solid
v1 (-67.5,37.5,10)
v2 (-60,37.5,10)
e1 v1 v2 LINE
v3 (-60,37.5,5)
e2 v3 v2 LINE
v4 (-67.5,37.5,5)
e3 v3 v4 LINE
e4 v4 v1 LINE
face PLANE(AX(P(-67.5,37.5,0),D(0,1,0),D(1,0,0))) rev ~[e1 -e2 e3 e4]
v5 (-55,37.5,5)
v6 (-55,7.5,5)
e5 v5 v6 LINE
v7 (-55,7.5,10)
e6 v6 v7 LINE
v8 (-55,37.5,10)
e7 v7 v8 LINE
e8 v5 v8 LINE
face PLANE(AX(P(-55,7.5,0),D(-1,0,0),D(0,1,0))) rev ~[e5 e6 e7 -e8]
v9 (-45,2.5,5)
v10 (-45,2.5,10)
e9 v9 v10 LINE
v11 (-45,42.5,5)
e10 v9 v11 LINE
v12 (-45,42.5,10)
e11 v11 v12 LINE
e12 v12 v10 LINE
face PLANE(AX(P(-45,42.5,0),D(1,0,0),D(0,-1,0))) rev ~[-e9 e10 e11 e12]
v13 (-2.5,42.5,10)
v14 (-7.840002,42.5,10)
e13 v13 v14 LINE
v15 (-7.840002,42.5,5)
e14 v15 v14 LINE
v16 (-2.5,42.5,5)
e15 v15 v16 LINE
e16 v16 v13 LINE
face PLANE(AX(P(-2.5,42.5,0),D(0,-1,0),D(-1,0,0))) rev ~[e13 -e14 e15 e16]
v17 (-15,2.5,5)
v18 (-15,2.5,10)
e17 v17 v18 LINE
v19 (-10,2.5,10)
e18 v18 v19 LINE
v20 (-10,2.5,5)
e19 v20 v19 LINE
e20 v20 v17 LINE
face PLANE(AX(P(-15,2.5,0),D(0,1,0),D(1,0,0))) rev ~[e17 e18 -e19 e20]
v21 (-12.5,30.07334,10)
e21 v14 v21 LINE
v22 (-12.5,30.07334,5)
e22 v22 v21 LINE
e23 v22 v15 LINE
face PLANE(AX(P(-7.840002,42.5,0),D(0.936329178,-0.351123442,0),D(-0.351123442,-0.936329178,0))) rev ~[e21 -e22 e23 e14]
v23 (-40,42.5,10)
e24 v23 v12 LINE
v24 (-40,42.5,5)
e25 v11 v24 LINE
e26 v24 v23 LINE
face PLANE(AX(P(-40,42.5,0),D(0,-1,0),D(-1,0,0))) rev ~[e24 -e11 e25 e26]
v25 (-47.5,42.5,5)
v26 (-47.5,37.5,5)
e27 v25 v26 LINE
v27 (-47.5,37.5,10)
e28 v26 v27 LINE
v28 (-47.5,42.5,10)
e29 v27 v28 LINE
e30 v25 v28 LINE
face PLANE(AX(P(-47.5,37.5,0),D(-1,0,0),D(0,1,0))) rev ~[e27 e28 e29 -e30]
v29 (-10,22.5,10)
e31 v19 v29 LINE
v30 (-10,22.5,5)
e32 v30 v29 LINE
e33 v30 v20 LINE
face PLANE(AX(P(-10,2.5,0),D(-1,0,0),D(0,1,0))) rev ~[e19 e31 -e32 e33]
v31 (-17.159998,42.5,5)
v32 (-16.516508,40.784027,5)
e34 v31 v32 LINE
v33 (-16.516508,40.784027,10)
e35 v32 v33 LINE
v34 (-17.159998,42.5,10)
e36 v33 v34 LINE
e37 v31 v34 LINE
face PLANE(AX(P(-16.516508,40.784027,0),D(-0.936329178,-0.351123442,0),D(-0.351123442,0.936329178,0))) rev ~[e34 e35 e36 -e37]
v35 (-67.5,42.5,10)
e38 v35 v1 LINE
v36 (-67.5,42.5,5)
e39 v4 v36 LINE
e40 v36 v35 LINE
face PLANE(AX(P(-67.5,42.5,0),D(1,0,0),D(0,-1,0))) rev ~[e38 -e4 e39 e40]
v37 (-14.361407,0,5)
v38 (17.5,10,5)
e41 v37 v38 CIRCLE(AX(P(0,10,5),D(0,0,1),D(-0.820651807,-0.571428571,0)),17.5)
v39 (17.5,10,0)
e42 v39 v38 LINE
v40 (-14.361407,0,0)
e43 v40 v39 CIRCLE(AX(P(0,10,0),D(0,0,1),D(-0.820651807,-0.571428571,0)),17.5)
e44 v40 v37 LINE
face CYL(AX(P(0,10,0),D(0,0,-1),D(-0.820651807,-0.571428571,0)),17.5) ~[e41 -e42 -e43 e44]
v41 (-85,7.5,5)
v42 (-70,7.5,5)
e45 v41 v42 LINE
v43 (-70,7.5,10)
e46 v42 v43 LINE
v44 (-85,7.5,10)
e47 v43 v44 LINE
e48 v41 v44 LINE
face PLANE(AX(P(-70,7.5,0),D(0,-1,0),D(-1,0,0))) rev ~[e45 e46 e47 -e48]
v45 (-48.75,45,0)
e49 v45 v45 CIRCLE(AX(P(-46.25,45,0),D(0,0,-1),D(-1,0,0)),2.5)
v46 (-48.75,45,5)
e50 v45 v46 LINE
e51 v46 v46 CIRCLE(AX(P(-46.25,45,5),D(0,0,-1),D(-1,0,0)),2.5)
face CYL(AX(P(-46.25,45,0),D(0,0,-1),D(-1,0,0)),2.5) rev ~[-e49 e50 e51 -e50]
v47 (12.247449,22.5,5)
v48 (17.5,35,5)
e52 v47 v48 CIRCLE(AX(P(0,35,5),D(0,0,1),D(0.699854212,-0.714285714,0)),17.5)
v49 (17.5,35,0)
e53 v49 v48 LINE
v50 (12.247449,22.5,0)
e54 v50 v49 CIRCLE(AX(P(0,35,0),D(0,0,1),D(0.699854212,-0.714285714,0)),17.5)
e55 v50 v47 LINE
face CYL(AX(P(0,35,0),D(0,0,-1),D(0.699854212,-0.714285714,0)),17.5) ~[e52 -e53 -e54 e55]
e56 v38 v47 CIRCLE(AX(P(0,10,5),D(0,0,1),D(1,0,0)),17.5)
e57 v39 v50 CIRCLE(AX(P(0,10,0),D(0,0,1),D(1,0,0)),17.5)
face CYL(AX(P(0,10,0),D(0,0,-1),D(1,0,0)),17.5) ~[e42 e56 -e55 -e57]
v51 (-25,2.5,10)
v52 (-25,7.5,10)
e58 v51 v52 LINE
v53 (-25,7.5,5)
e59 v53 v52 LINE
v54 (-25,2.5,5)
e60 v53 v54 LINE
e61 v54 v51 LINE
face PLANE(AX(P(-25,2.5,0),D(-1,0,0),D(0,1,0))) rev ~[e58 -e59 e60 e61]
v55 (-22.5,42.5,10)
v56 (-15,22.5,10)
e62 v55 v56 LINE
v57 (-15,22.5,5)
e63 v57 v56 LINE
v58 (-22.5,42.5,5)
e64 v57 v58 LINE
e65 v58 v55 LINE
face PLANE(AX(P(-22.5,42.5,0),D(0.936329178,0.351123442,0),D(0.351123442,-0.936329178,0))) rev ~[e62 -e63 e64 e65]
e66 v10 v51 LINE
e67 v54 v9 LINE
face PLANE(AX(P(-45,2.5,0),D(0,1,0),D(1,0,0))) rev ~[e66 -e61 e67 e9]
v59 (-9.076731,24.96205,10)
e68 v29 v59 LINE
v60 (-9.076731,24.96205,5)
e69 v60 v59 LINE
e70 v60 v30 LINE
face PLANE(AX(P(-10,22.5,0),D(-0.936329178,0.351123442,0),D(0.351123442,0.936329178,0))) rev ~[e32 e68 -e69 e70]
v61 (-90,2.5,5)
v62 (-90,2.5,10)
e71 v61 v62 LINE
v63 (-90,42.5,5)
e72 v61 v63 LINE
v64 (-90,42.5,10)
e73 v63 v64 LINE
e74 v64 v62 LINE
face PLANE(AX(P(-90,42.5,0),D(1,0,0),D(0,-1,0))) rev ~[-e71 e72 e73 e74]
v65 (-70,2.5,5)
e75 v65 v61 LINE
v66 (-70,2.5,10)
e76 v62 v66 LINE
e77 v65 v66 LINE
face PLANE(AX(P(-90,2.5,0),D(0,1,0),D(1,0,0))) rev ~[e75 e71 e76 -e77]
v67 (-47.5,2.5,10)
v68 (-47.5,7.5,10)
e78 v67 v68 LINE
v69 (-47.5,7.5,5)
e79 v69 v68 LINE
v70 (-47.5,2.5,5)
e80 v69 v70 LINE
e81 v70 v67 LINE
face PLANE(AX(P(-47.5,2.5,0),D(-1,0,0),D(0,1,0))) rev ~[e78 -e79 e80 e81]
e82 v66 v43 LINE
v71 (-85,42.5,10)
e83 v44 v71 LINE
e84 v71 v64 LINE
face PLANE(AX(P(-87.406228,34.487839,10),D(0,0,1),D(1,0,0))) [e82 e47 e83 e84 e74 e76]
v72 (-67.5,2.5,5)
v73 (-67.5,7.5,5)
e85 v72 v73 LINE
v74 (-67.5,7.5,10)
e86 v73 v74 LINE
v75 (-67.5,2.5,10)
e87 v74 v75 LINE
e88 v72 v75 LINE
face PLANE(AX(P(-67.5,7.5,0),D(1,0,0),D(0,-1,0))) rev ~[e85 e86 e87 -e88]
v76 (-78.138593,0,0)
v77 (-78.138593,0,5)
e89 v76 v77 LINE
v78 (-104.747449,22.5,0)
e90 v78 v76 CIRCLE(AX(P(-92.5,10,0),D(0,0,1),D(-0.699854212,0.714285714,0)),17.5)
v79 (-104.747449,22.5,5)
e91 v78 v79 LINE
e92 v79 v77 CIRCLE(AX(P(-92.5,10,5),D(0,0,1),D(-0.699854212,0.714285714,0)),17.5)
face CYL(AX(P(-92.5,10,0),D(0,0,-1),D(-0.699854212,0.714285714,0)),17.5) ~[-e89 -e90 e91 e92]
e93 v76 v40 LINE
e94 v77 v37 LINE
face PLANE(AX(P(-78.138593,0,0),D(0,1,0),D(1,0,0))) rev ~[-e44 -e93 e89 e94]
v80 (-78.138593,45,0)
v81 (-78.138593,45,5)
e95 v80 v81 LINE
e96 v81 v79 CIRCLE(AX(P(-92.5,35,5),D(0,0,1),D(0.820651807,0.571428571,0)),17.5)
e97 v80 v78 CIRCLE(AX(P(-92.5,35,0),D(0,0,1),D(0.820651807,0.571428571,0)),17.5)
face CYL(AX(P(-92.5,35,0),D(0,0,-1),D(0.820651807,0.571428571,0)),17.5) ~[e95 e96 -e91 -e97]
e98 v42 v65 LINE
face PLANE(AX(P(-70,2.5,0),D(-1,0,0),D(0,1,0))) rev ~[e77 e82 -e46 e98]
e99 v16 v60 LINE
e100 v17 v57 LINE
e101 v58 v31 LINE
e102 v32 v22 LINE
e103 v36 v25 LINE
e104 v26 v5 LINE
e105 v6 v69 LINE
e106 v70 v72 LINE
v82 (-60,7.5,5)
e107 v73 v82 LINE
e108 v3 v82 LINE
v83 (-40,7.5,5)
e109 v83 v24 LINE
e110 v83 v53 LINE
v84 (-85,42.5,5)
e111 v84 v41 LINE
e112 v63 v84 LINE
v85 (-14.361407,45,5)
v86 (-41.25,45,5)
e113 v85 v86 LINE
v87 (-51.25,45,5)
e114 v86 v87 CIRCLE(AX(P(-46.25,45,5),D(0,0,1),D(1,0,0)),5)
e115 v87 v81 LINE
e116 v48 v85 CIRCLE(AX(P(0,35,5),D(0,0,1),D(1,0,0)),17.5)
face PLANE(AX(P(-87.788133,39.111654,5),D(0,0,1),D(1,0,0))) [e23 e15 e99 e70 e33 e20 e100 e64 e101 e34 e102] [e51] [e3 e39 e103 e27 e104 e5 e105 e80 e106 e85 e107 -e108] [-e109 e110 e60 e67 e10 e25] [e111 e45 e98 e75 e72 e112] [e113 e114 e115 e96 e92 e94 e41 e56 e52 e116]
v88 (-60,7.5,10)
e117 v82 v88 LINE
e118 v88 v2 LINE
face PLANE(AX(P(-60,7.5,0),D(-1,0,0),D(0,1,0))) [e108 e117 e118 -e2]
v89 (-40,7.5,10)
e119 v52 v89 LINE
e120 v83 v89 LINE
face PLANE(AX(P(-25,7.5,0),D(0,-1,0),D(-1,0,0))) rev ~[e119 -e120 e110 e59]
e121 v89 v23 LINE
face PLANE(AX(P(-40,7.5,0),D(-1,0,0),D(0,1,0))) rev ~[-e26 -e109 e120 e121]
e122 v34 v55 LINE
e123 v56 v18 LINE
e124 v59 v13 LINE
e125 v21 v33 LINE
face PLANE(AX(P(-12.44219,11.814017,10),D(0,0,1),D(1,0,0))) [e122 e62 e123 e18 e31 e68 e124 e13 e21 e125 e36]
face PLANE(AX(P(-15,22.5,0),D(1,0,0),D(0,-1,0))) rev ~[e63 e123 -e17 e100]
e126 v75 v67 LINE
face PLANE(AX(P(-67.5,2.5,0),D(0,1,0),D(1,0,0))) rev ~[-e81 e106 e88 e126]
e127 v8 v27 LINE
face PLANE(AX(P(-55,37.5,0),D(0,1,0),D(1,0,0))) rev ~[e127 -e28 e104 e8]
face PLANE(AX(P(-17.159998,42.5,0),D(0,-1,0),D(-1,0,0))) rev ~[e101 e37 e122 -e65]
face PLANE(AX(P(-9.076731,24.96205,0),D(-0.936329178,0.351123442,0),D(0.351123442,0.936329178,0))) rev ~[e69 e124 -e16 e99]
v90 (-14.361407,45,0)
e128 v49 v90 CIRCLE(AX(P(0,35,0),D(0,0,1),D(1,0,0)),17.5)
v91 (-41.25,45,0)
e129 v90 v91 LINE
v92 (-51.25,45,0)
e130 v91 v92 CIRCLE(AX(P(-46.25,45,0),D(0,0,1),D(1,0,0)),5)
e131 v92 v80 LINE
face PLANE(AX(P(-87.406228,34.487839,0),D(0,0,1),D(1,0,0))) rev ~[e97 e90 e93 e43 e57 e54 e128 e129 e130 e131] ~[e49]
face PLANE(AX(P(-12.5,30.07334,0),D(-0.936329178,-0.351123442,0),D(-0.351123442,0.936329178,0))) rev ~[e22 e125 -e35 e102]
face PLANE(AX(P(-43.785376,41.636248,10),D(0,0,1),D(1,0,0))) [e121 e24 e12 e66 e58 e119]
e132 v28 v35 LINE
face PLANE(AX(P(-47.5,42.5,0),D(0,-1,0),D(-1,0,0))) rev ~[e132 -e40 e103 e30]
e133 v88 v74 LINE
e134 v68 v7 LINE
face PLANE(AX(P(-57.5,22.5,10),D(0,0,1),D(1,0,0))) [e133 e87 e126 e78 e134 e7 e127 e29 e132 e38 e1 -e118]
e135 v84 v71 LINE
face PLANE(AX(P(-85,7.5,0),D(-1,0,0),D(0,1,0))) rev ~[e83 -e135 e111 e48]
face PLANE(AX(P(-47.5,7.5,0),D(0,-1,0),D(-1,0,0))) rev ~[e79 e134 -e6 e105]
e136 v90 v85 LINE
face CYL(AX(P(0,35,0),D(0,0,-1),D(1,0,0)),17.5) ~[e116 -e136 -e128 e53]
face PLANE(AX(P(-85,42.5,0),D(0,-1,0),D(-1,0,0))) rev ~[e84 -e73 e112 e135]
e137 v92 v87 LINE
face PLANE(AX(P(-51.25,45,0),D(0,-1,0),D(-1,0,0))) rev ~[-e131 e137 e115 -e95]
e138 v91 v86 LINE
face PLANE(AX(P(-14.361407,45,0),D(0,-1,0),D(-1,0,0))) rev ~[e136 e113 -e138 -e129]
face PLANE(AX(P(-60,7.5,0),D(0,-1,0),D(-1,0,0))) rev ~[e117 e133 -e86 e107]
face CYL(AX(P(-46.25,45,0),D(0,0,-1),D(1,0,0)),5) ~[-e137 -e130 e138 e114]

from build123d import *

# Parameters (mm, degrees)
F0_W     = 15
F0_H     = 35
F0_W_2   = 5
F0_H_2   = 5
F0_W_3   = 7.5
F0_H_3   = 30
F1_DEPTH = 5
F2_DEPTH = 10


with BuildPart() as f1:
    # F0 (on Top) → F1 (new body)
    with BuildSketch(Plane.XY):
        with BuildLine():
            Line((-90, 27.3205080757), (-90, 42.5))
            Line((-90, 42.5), (-85, 42.5))
            Line((-85, 42.5), (-76.6886116992, 42.5))
            ThreePointArc((-76.6886116992, 42.5), (-77.3619060553, 43.7799835832), (-78.1385933837, 45))
            Line((-78.1385933837, 45), (-92.5, 45))
            Line((-92.5, 45), (-92.5, 27.5))
            ThreePointArc((-92.5, 27.5), (-91.2467824061, 27.4550693399), (-90, 27.3205080757))
        make_face()
        with BuildLine():
            ThreePointArc((-78.1385933837, 45), (-77.3619060553, 43.7799835832), (-76.6886116992, 42.5))
            Line((-76.6886116992, 42.5), (-70, 42.5))
            Line((-70, 42.5), (-70, 7.5))
            Line((-70, 7.5), (-70, 2.5))
            Line((-70, 2.5), (-76.6886116992, 2.5))
            ThreePointArc((-76.6886116992, 2.5), (-77.3619060553, 1.2200164168), (-78.1385933837, 0))
            Line((-78.1385933837, 0), (-14.3614066163, 0))
            ThreePointArc((-14.3614066163, 0), (-15.1380939447, 1.2200164168), (-15.8113883008, 2.5))
            Line((-15.8113883008, 2.5), (-22.5, 2.5))
            Line((-22.5, 2.5), (-22.5, 22.5))
            Line((-22.5, 22.5), (-22.5, 42.5))
            Line((-22.5, 42.5), (-17.1599976592, 42.5))
            Line((-17.1599976592, 42.5), (-15.8113883008, 42.5))
            ThreePointArc((-15.8113883008, 42.5), (-15.1380939447, 43.7799835832), (-14.3614066163, 45))
            Line((-14.3614066163, 45), (-41.25, 45))
            ThreePointArc((-41.25, 45), (-41.4203708686, 43.7059047745), (-41.9198729811, 42.5))
            Line((-41.9198729811, 42.5), (-40, 42.5))
            Line((-40, 42.5), (-25, 42.5))
            Line((-25, 42.5), (-25, 7.5))
            Line((-25, 7.5), (-25, 2.5))
            Line((-25, 2.5), (-40, 2.5))
            Line((-40, 2.5), (-45, 2.5))
            Line((-45, 2.5), (-45, 7.5))
            Line((-45, 7.5), (-45, 40.1587708172))
            ThreePointArc((-45, 40.1587708172), (-46.25, 40), (-47.5, 40.1587708172))
            Line((-47.5, 40.1587708172), (-47.5, 37.5))
            Line((-47.5, 37.5), (-47.5, 7.5))
            Line((-47.5, 7.5), (-47.5, 2.5))
            Line((-47.5, 2.5), (-67.5, 2.5))
            Line((-67.5, 2.5), (-67.5, 7.5))
            Line((-67.5, 7.5), (-67.5, 37.5))
            Line((-67.5, 37.5), (-67.5, 42.5))
            Line((-67.5, 42.5), (-50.5801270189, 42.5))
            ThreePointArc((-50.5801270189, 42.5), (-51.0796291314, 43.7059047745), (-51.25, 45))
            Line((-51.25, 45), (-78.1385933837, 45))
        make_face()
        with BuildLine():
            Line((-90, 7.5), (-90, 17.6794919243))
            ThreePointArc((-90, 17.6794919243), (-91.2467824061, 17.5449306601), (-92.5, 17.5))
            Line((-92.5, 17.5), (-92.5, 0))
            Line((-92.5, 0), (-78.1385933837, 0))
            ThreePointArc((-78.1385933837, 0), (-77.3619060553, 1.2200164168), (-76.6886116992, 2.5))
            Line((-76.6886116992, 2.5), (-85, 2.5))
            Line((-85, 2.5), (-90, 2.5))
            Line((-90, 2.5), (-90, 7.5))
        make_face()
        with BuildLine():
            ThreePointArc((-104.7474487139, 22.5), (-99.1143782777, 26.201851746), (-92.5, 27.5))
            Line((-92.5, 27.5), (-92.5, 45))
            Line((-92.5, 45), (-78.1385933837, 45))
            ThreePointArc((-78.1385933837, 45), (-103.7995444379, 48.3630196998), (-104.7474487139, 22.5))
        make_face()
        with BuildLine():
            Line((-92.5, 17.5), (-92.5, 27.5))
            ThreePointArc((-92.5, 27.5), (-99.1143782777, 26.201851746), (-104.7474487139, 22.5))
            ThreePointArc((-104.7474487139, 22.5), (-99.1143782777, 18.798148254), (-92.5, 17.5))
        make_face()
        with BuildLine():
            Line((-92.5, 0), (-92.5, 17.5))
            ThreePointArc((-92.5, 17.5), (-99.1143782777, 18.798148254), (-104.7474487139, 22.5))
            ThreePointArc((-104.7474487139, 22.5), (-103.7995444379, -3.3630196998), (-78.1385933837, 0))
            Line((-78.1385933837, 0), (-92.5, 0))
        make_face()
        with BuildLine():
            ThreePointArc((-41.25, 45), (-46.25, 50), (-51.25, 45))
            Line((-51.25, 45), (-48.75, 45))
            ThreePointArc((-48.75, 45), (-46.25, 47.5), (-43.75, 45))
            Line((-43.75, 45), (-41.25, 45))
        make_face()
        with BuildLine():
            Line((-48.75, 45), (-51.25, 45))
            ThreePointArc((-51.25, 45), (-51.0796291314, 43.7059047745), (-50.5801270189, 42.5))
            Line((-50.5801270189, 42.5), (-47.5, 42.5))
            Line((-47.5, 42.5), (-47.5, 40.1587708172))
            ThreePointArc((-47.5, 40.1587708172), (-46.25, 40), (-45, 40.1587708172))
            Line((-45, 40.1587708172), (-45, 42.5))
            Line((-45, 42.5), (-41.9198729811, 42.5))
            ThreePointArc((-41.9198729811, 42.5), (-41.4203708686, 43.7059047745), (-41.25, 45))
            Line((-41.25, 45), (-43.75, 45))
            ThreePointArc((-43.75, 45), (-46.25, 42.5), (-48.75, 45))
        make_face()
        with BuildLine():
            ThreePointArc((-15.8113883008, 2.5), (-15.1380939447, 1.2200164168), (-14.3614066163, 0))
            Line((-14.3614066163, 0), (0, 0))
            Line((0, 0), (0, 17.5))
            ThreePointArc((0, 17.5), (-1.2532175939, 17.5449306601), (-2.5, 17.6794919243))
            Line((-2.5, 17.6794919243), (-2.5, 2.5))
            Line((-2.5, 2.5), (-10, 2.5))
            Line((-10, 2.5), (-15, 2.5))
            Line((-15, 2.5), (-15.8113883008, 2.5))
        make_face()
        with BuildLine():
            Line((0, 0), (-14.3614066163, 0))
            ThreePointArc((-14.3614066163, 0), (5.2404858655, -6.6969251029), (17.5, 10))
            ThreePointArc((17.5, 10), (16.1335109709, 16.7793675039), (12.2474487139, 22.5))
            ThreePointArc((12.2474487139, 22.5), (6.6143782777, 18.798148254), (0, 17.5))
            Line((0, 17.5), (0, 0))
        make_face()
        with BuildLine():
            ThreePointArc((17.5, 35), (5.2404858655, 51.6969251029), (-14.3614066163, 45))
            Line((-14.3614066163, 45), (0, 45))
            Line((0, 45), (0, 27.5))
            ThreePointArc((0, 27.5), (6.6143782777, 26.201851746), (12.2474487139, 22.5))
            ThreePointArc((12.2474487139, 22.5), (16.1335109709, 28.2206324961), (17.5, 35))
        make_face()
        with BuildLine():
            Line((0, 45), (-14.3614066163, 45))
            ThreePointArc((-14.3614066163, 45), (-15.1380939447, 43.7799835832), (-15.8113883008, 42.5))
            Line((-15.8113883008, 42.5), (-7.8400023408, 42.5))
            Line((-7.8400023408, 42.5), (-2.5, 42.5))
            Line((-2.5, 42.5), (-2.5, 27.3205080757))
            ThreePointArc((-2.5, 27.3205080757), (-1.2532175939, 27.4550693399), (0, 27.5))
            Line((0, 27.5), (0, 45))
        make_face()
        with BuildLine():
            Line((0, 27.5), (0, 17.5))
            ThreePointArc((0, 17.5), (6.6143782777, 18.798148254), (12.2474487139, 22.5))
            ThreePointArc((12.2474487139, 22.5), (6.6143782777, 26.201851746), (0, 27.5))
        make_face()
        with BuildLine():
            ThreePointArc((-2.5, 17.6794919243), (-1.2532175939, 17.5449306601), (0, 17.5))
            Line((0, 17.5), (0, 27.5))
            ThreePointArc((0, 27.5), (-1.2532175939, 27.4550693399), (-2.5, 27.3205080757))
            Line((-2.5, 27.3205080757), (-2.5, 22.5))
            Line((-2.5, 22.5), (-2.5, 17.6794919243))
        make_face()
        with BuildLine():
            Line((-2.5, 2.5), (-2.5, 17.6794919243))
            ThreePointArc((-2.5, 17.6794919243), (-6.4227385407, 18.7212276372), (-10, 20.6385933837))
            Line((-10, 20.6385933837), (-10, 2.5))
            Line((-10, 2.5), (-2.5, 2.5))
        make_face()
        with BuildLine():
            ThreePointArc((-10, 20.6385933837), (-6.4227385407, 18.7212276372), (-2.5, 17.6794919243))
            Line((-2.5, 17.6794919243), (-2.5, 22.5))
            Line((-2.5, 22.5), (-10, 22.5))
            Line((-10, 22.5), (-10, 20.6385933837))
        make_face()
        with BuildLine():
            ThreePointArc((-9.0767310941, 24.9620504158), (-5.9072630159, 26.4728335043), (-2.5, 27.3205080757))
            Line((-2.5, 27.3205080757), (-2.5, 42.5))
            Line((-2.5, 42.5), (-9.0767310941, 24.9620504158))
        make_face()
        with BuildLine():
            Line((-2.5, 22.5), (-2.5, 27.3205080757))
            ThreePointArc((-2.5, 27.3205080757), (-5.9072630159, 26.4728335043), (-9.0767310941, 24.9620504158))
            Line((-9.0767310941, 24.9620504158), (-10, 22.5))
            Line((-10, 22.5), (-2.5, 22.5))
        make_face()
        with BuildLine():
            ThreePointArc((-9.0767310941, 24.9620504158), (-10.7329205803, 23.822243516), (-12.2474487139, 22.5))
            Line((-12.2474487139, 22.5), (-10, 22.5))
            Line((-10, 22.5), (-9.0767310941, 24.9620504158))
        make_face()
        with BuildLine():
            Line((-10, 22.5), (-12.2474487139, 22.5))
            ThreePointArc((-12.2474487139, 22.5), (-11.1625916443, 21.5223686138), (-10, 20.6385933837))
            Line((-10, 20.6385933837), (-10, 22.5))
        make_face()
        with BuildLine():
            Line((-15, 19.0138781887), (-15, 2.5))
            Line((-15, 2.5), (-10, 2.5))
            Line((-10, 2.5), (-10, 20.6385933837))
            ThreePointArc((-10, 20.6385933837), (-11.1625916443, 21.5223686138), (-12.2474487139, 22.5))
            ThreePointArc((-12.2474487139, 22.5), (-13.7347779988, 20.8446241671), (-15, 19.0138781887))
        make_face()
        with BuildLine():
            Line((-15, 22.5), (-15, 19.0138781887))
            ThreePointArc((-15, 19.0138781887), (-13.7347779988, 20.8446241671), (-12.2474487139, 22.5))
            Line((-12.2474487139, 22.5), (-15, 22.5))
        make_face()
        with BuildLine():
            ThreePointArc((-15, 19.0138781887), (-17.4789145963, 10.8588041315), (-15.8113883008, 2.5))
            Line((-15.8113883008, 2.5), (-15, 2.5))
            Line((-15, 2.5), (-15, 19.0138781887))
        make_face()
        with BuildLine():
            Line((-22.5, 2.5), (-15.8113883008, 2.5))
            ThreePointArc((-15.8113883008, 2.5), (-17.4789145963, 10.8588041315), (-15, 19.0138781887))
            Line((-15, 19.0138781887), (-15, 22.5))
            Line((-15, 22.5), (-22.5, 22.5))
            Line((-22.5, 22.5), (-22.5, 2.5))
        make_face()
        Polygon((-22.5, 42.5), (-22.5, 22.5), (-15, 22.5), align=None)
        with BuildLine():
            Line((-2.5, 42.5), (-7.8400023408, 42.5))
            Line((-7.8400023408, 42.5), (-12.5, 30.0733395755))
            Line((-12.5, 30.0733395755), (-16.5165078198, 40.7840270951))
            ThreePointArc((-16.5165078198, 40.7840270951), (-17.0416463575, 31.0210190466), (-12.2474487139, 22.5))
            ThreePointArc((-12.2474487139, 22.5), (-10.7329205803, 23.822243516), (-9.0767310941, 24.9620504158))
            Line((-9.0767310941, 24.9620504158), (-2.5, 42.5))
        make_face()
        with BuildLine():
            Line((-16.5165078198, 40.7840270951), (-17.1599976592, 42.5))
            Line((-17.1599976592, 42.5), (-22.5, 42.5))
            Line((-22.5, 42.5), (-15, 22.5))
            Line((-15, 22.5), (-12.2474487139, 22.5))
            ThreePointArc((-12.2474487139, 22.5), (-17.0416463575, 31.0210190466), (-16.5165078198, 40.7840270951))
        make_face()
        with BuildLine():
            Line((-7.8400023408, 42.5), (-15.8113883008, 42.5))
            ThreePointArc((-15.8113883008, 42.5), (-16.1867031124, 41.6513639466), (-16.5165078198, 40.7840270951))
            Line((-16.5165078198, 40.7840270951), (-12.5, 30.0733395755))
            Line((-12.5, 30.0733395755), (-7.8400023408, 42.5))
        make_face()
        with BuildLine():
            ThreePointArc((-16.5165078198, 40.7840270951), (-16.1867031124, 41.6513639466), (-15.8113883008, 42.5))
            Line((-15.8113883008, 42.5), (-17.1599976592, 42.5))
            Line((-17.1599976592, 42.5), (-16.5165078198, 40.7840270951))
        make_face()
        with Locations((-32.5, 25)):
            Rectangle(F0_W, F0_H)
        with BuildLine():
            ThreePointArc((-45, 40.1587708172), (-43.224311168, 41.0193961398), (-41.9198729811, 42.5))
            Line((-41.9198729811, 42.5), (-45, 42.5))
            Line((-45, 42.5), (-45, 40.1587708172))
        make_face()
        with Locations((-42.5, 5)):
            Rectangle(F0_W_2, F0_H_2)
        with Locations((-32.5, 5)):
            Rectangle(F0_W, F0_H_2)
        Polygon((-60, 7.5), (-67.5, 7.5), (-67.5, 2.5), (-47.5, 2.5), (-47.5, 7.5), (-55, 7.5), align=None)
        with Locations((-51.25, 22.5)):
            Rectangle(F0_W_3, F0_H_3)
        with Locations((-57.5, 22.5)):
            Rectangle(F0_W_2, F0_H_3)
        with Locations((-63.75, 22.5)):
            Rectangle(F0_W_3, F0_H_3)
        with BuildLine():
            ThreePointArc((-47.5, 40.1587708172), (-49.275688832, 41.0193961398), (-50.5801270189, 42.5))
            Line((-50.5801270189, 42.5), (-67.5, 42.5))
            Line((-67.5, 42.5), (-67.5, 37.5))
            Line((-67.5, 37.5), (-60, 37.5))
            Line((-60, 37.5), (-55, 37.5))
            Line((-55, 37.5), (-47.5, 37.5))
            Line((-47.5, 37.5), (-47.5, 40.1587708172))
        make_face()
        with BuildLine():
            Line((-47.5, 42.5), (-50.5801270189, 42.5))
            ThreePointArc((-50.5801270189, 42.5), (-49.275688832, 41.0193961398), (-47.5, 40.1587708172))
            Line((-47.5, 40.1587708172), (-47.5, 42.5))
        make_face()
        with BuildLine():
            Line((-70, 42.5), (-76.6886116992, 42.5))
            ThreePointArc((-76.6886116992, 42.5), (-75.4273713907, 38.843872054), (-75, 35))
            ThreePointArc((-75, 35), (-76.3664890291, 28.2206324961), (-80.2525512861, 22.5))
            ThreePointArc((-80.2525512861, 22.5), (-76.3664890291, 16.7793675039), (-75, 10))
            ThreePointArc((-75, 10), (-75.0449306601, 8.7467824061), (-75.1794919243, 7.5))
            Line((-75.1794919243, 7.5), (-70, 7.5))
            Line((-70, 7.5), (-70, 42.5))
        make_face()
        with BuildLine():
            Line((-76.6886116992, 42.5), (-85, 42.5))
            Line((-85, 42.5), (-85, 25.8113883008))
            ThreePointArc((-85, 25.8113883008), (-82.4884189162, 24.3533356473), (-80.2525512861, 22.5))
            ThreePointArc((-80.2525512861, 22.5), (-76.3664890291, 28.2206324961), (-75, 35))
            ThreePointArc((-75, 35), (-75.4273713907, 38.843872054), (-76.6886116992, 42.5))
        make_face()
        with BuildLine():
            ThreePointArc((-80.2525512861, 22.5), (-82.4884189162, 20.6466643527), (-85, 19.1886116992))
            Line((-85, 19.1886116992), (-85, 7.5))
            Line((-85, 7.5), (-75.1794919243, 7.5))
            ThreePointArc((-75.1794919243, 7.5), (-75.0449306601, 8.7467824061), (-75, 10))
            ThreePointArc((-75, 10), (-76.3664890291, 16.7793675039), (-80.2525512861, 22.5))
        make_face()
        with BuildLine():
            ThreePointArc((-80.2525512861, 22.5), (-82.4884189162, 24.3533356473), (-85, 25.8113883008))
            Line((-85, 25.8113883008), (-85, 19.1886116992))
            ThreePointArc((-85, 19.1886116992), (-82.4884189162, 20.6466643527), (-80.2525512861, 22.5))
        make_face()
        with BuildLine():
            ThreePointArc((-85, 25.8113883008), (-87.4433844695, 26.7535261774), (-90, 27.3205080757))
            Line((-90, 27.3205080757), (-90, 17.6794919243))
            ThreePointArc((-90, 17.6794919243), (-87.4433844695, 18.2464738226), (-85, 19.1886116992))
            Line((-85, 19.1886116992), (-85, 25.8113883008))
        make_face()
        with BuildLine():
            Line((-85, 42.5), (-90, 42.5))
            Line((-90, 42.5), (-90, 27.3205080757))
            ThreePointArc((-90, 27.3205080757), (-87.4433844695, 26.7535261774), (-85, 25.8113883008))
            Line((-85, 25.8113883008), (-85, 42.5))
        make_face()
        with BuildLine():
            Line((-90, 17.6794919243), (-90, 27.3205080757))
            ThreePointArc((-90, 27.3205080757), (-91.2467824061, 27.4550693399), (-92.5, 27.5))
            Line((-92.5, 27.5), (-92.5, 17.5))
            ThreePointArc((-92.5, 17.5), (-91.2467824061, 17.5449306601), (-90, 17.6794919243))
        make_face()
        with BuildLine():
            ThreePointArc((-85, 19.1886116992), (-87.4433844695, 18.2464738226), (-90, 17.6794919243))
            Line((-90, 17.6794919243), (-90, 7.5))
            Line((-90, 7.5), (-85, 7.5))
            Line((-85, 7.5), (-85, 19.1886116992))
        make_face()
        with Locations((-87.5, 5)):
            Rectangle(F0_W_2, F0_H_2)
        with BuildLine():
            Line((-75.1794919243, 7.5), (-85, 7.5))
            Line((-85, 7.5), (-85, 2.5))
            Line((-85, 2.5), (-76.6886116992, 2.5))
            ThreePointArc((-76.6886116992, 2.5), (-75.7464738226, 4.9433844695), (-75.1794919243, 7.5))
        make_face()
        with BuildLine():
            Line((-70, 2.5), (-70, 7.5))
            Line((-70, 7.5), (-75.1794919243, 7.5))
            ThreePointArc((-75.1794919243, 7.5), (-75.7464738226, 4.9433844695), (-76.6886116992, 2.5))
            Line((-76.6886116992, 2.5), (-70, 2.5))
        make_face()
    extrude(amount=F1_DEPTH)

    # F0 (on Top) → F2 (join)
    with BuildSketch(Plane.XY):
        with BuildLine():
            Line((-85, 42.5), (-90, 42.5))
            Line((-90, 42.5), (-90, 27.3205080757))
            ThreePointArc((-90, 27.3205080757), (-87.4433844695, 26.7535261774), (-85, 25.8113883008))
            Line((-85, 25.8113883008), (-85, 42.5))
        make_face()
        with BuildLine():
            ThreePointArc((-85, 25.8113883008), (-87.4433844695, 26.7535261774), (-90, 27.3205080757))
            Line((-90, 27.3205080757), (-90, 17.6794919243))
            ThreePointArc((-90, 17.6794919243), (-87.4433844695, 18.2464738226), (-85, 19.1886116992))
            Line((-85, 19.1886116992), (-85, 25.8113883008))
        make_face()
        with BuildLine():
            ThreePointArc((-85, 19.1886116992), (-87.4433844695, 18.2464738226), (-90, 17.6794919243))
            Line((-90, 17.6794919243), (-90, 7.5))
            Line((-90, 7.5), (-85, 7.5))
            Line((-85, 7.5), (-85, 19.1886116992))
        make_face()
        with Locations((-87.5, 5)):
            Rectangle(F0_W_2, F0_H_2)
        with BuildLine():
            Line((-75.1794919243, 7.5), (-85, 7.5))
            Line((-85, 7.5), (-85, 2.5))
            Line((-85, 2.5), (-76.6886116992, 2.5))
            ThreePointArc((-76.6886116992, 2.5), (-75.7464738226, 4.9433844695), (-75.1794919243, 7.5))
        make_face()
        with BuildLine():
            Line((-70, 2.5), (-70, 7.5))
            Line((-70, 7.5), (-75.1794919243, 7.5))
            ThreePointArc((-75.1794919243, 7.5), (-75.7464738226, 4.9433844695), (-76.6886116992, 2.5))
            Line((-76.6886116992, 2.5), (-70, 2.5))
        make_face()
        with Locations((-57.5, 22.5)):
            Rectangle(F0_W_2, F0_H_3)
        with BuildLine():
            ThreePointArc((-47.5, 40.1587708172), (-49.275688832, 41.0193961398), (-50.5801270189, 42.5))
            Line((-50.5801270189, 42.5), (-67.5, 42.5))
            Line((-67.5, 42.5), (-67.5, 37.5))
            Line((-67.5, 37.5), (-60, 37.5))
            Line((-60, 37.5), (-55, 37.5))
            Line((-55, 37.5), (-47.5, 37.5))
            Line((-47.5, 37.5), (-47.5, 40.1587708172))
        make_face()
        with BuildLine():
            Line((-47.5, 42.5), (-50.5801270189, 42.5))
            ThreePointArc((-50.5801270189, 42.5), (-49.275688832, 41.0193961398), (-47.5, 40.1587708172))
            Line((-47.5, 40.1587708172), (-47.5, 42.5))
        make_face()
        Polygon((-60, 7.5), (-67.5, 7.5), (-67.5, 2.5), (-47.5, 2.5), (-47.5, 7.5), (-55, 7.5), align=None)
        with BuildLine():
            ThreePointArc((-45, 40.1587708172), (-43.224311168, 41.0193961398), (-41.9198729811, 42.5))
            Line((-41.9198729811, 42.5), (-45, 42.5))
            Line((-45, 42.5), (-45, 40.1587708172))
        make_face()
        with Locations((-42.5, 5)):
            Rectangle(F0_W_2, F0_H_2)
        with Locations((-32.5, 5)):
            Rectangle(F0_W, F0_H_2)
        with BuildLine():
            Line((-15, 19.0138781887), (-15, 2.5))
            Line((-15, 2.5), (-10, 2.5))
            Line((-10, 2.5), (-10, 20.6385933837))
            ThreePointArc((-10, 20.6385933837), (-11.1625916443, 21.5223686138), (-12.2474487139, 22.5))
            ThreePointArc((-12.2474487139, 22.5), (-13.7347779988, 20.8446241671), (-15, 19.0138781887))
        make_face()
        with BuildLine():
            Line((-2.5, 42.5), (-7.8400023408, 42.5))
            Line((-7.8400023408, 42.5), (-12.5, 30.0733395755))
            Line((-12.5, 30.0733395755), (-16.5165078198, 40.7840270951))
            ThreePointArc((-16.5165078198, 40.7840270951), (-17.0416463575, 31.0210190466), (-12.2474487139, 22.5))
            ThreePointArc((-12.2474487139, 22.5), (-10.7329205803, 23.822243516), (-9.0767310941, 24.9620504158))
            Line((-9.0767310941, 24.9620504158), (-2.5, 42.5))
        make_face()
        with BuildLine():
            Line((-16.5165078198, 40.7840270951), (-17.1599976592, 42.5))
            Line((-17.1599976592, 42.5), (-22.5, 42.5))
            Line((-22.5, 42.5), (-15, 22.5))
            Line((-15, 22.5), (-12.2474487139, 22.5))
            ThreePointArc((-12.2474487139, 22.5), (-17.0416463575, 31.0210190466), (-16.5165078198, 40.7840270951))
        make_face()
        with BuildLine():
            Line((-15, 22.5), (-15, 19.0138781887))
            ThreePointArc((-15, 19.0138781887), (-13.7347779988, 20.8446241671), (-12.2474487139, 22.5))
            Line((-12.2474487139, 22.5), (-15, 22.5))
        make_face()
        with BuildLine():
            Line((-10, 22.5), (-12.2474487139, 22.5))
            ThreePointArc((-12.2474487139, 22.5), (-11.1625916443, 21.5223686138), (-10, 20.6385933837))
            Line((-10, 20.6385933837), (-10, 22.5))
        make_face()
        with BuildLine():
            ThreePointArc((-9.0767310941, 24.9620504158), (-10.7329205803, 23.822243516), (-12.2474487139, 22.5))
            Line((-12.2474487139, 22.5), (-10, 22.5))
            Line((-10, 22.5), (-9.0767310941, 24.9620504158))
        make_face()
        with BuildLine():
            Line((-40, 42.5), (-41.9198729811, 42.5))
            ThreePointArc((-41.9198729811, 42.5), (-43.224311168, 41.0193961398), (-45, 40.1587708172))
            Line((-45, 40.1587708172), (-45, 7.5))
            Line((-45, 7.5), (-40, 7.5))
            Line((-40, 7.5), (-40, 42.5))
        make_face()
    extrude(amount=F2_DEPTH)


solid = f1.part
